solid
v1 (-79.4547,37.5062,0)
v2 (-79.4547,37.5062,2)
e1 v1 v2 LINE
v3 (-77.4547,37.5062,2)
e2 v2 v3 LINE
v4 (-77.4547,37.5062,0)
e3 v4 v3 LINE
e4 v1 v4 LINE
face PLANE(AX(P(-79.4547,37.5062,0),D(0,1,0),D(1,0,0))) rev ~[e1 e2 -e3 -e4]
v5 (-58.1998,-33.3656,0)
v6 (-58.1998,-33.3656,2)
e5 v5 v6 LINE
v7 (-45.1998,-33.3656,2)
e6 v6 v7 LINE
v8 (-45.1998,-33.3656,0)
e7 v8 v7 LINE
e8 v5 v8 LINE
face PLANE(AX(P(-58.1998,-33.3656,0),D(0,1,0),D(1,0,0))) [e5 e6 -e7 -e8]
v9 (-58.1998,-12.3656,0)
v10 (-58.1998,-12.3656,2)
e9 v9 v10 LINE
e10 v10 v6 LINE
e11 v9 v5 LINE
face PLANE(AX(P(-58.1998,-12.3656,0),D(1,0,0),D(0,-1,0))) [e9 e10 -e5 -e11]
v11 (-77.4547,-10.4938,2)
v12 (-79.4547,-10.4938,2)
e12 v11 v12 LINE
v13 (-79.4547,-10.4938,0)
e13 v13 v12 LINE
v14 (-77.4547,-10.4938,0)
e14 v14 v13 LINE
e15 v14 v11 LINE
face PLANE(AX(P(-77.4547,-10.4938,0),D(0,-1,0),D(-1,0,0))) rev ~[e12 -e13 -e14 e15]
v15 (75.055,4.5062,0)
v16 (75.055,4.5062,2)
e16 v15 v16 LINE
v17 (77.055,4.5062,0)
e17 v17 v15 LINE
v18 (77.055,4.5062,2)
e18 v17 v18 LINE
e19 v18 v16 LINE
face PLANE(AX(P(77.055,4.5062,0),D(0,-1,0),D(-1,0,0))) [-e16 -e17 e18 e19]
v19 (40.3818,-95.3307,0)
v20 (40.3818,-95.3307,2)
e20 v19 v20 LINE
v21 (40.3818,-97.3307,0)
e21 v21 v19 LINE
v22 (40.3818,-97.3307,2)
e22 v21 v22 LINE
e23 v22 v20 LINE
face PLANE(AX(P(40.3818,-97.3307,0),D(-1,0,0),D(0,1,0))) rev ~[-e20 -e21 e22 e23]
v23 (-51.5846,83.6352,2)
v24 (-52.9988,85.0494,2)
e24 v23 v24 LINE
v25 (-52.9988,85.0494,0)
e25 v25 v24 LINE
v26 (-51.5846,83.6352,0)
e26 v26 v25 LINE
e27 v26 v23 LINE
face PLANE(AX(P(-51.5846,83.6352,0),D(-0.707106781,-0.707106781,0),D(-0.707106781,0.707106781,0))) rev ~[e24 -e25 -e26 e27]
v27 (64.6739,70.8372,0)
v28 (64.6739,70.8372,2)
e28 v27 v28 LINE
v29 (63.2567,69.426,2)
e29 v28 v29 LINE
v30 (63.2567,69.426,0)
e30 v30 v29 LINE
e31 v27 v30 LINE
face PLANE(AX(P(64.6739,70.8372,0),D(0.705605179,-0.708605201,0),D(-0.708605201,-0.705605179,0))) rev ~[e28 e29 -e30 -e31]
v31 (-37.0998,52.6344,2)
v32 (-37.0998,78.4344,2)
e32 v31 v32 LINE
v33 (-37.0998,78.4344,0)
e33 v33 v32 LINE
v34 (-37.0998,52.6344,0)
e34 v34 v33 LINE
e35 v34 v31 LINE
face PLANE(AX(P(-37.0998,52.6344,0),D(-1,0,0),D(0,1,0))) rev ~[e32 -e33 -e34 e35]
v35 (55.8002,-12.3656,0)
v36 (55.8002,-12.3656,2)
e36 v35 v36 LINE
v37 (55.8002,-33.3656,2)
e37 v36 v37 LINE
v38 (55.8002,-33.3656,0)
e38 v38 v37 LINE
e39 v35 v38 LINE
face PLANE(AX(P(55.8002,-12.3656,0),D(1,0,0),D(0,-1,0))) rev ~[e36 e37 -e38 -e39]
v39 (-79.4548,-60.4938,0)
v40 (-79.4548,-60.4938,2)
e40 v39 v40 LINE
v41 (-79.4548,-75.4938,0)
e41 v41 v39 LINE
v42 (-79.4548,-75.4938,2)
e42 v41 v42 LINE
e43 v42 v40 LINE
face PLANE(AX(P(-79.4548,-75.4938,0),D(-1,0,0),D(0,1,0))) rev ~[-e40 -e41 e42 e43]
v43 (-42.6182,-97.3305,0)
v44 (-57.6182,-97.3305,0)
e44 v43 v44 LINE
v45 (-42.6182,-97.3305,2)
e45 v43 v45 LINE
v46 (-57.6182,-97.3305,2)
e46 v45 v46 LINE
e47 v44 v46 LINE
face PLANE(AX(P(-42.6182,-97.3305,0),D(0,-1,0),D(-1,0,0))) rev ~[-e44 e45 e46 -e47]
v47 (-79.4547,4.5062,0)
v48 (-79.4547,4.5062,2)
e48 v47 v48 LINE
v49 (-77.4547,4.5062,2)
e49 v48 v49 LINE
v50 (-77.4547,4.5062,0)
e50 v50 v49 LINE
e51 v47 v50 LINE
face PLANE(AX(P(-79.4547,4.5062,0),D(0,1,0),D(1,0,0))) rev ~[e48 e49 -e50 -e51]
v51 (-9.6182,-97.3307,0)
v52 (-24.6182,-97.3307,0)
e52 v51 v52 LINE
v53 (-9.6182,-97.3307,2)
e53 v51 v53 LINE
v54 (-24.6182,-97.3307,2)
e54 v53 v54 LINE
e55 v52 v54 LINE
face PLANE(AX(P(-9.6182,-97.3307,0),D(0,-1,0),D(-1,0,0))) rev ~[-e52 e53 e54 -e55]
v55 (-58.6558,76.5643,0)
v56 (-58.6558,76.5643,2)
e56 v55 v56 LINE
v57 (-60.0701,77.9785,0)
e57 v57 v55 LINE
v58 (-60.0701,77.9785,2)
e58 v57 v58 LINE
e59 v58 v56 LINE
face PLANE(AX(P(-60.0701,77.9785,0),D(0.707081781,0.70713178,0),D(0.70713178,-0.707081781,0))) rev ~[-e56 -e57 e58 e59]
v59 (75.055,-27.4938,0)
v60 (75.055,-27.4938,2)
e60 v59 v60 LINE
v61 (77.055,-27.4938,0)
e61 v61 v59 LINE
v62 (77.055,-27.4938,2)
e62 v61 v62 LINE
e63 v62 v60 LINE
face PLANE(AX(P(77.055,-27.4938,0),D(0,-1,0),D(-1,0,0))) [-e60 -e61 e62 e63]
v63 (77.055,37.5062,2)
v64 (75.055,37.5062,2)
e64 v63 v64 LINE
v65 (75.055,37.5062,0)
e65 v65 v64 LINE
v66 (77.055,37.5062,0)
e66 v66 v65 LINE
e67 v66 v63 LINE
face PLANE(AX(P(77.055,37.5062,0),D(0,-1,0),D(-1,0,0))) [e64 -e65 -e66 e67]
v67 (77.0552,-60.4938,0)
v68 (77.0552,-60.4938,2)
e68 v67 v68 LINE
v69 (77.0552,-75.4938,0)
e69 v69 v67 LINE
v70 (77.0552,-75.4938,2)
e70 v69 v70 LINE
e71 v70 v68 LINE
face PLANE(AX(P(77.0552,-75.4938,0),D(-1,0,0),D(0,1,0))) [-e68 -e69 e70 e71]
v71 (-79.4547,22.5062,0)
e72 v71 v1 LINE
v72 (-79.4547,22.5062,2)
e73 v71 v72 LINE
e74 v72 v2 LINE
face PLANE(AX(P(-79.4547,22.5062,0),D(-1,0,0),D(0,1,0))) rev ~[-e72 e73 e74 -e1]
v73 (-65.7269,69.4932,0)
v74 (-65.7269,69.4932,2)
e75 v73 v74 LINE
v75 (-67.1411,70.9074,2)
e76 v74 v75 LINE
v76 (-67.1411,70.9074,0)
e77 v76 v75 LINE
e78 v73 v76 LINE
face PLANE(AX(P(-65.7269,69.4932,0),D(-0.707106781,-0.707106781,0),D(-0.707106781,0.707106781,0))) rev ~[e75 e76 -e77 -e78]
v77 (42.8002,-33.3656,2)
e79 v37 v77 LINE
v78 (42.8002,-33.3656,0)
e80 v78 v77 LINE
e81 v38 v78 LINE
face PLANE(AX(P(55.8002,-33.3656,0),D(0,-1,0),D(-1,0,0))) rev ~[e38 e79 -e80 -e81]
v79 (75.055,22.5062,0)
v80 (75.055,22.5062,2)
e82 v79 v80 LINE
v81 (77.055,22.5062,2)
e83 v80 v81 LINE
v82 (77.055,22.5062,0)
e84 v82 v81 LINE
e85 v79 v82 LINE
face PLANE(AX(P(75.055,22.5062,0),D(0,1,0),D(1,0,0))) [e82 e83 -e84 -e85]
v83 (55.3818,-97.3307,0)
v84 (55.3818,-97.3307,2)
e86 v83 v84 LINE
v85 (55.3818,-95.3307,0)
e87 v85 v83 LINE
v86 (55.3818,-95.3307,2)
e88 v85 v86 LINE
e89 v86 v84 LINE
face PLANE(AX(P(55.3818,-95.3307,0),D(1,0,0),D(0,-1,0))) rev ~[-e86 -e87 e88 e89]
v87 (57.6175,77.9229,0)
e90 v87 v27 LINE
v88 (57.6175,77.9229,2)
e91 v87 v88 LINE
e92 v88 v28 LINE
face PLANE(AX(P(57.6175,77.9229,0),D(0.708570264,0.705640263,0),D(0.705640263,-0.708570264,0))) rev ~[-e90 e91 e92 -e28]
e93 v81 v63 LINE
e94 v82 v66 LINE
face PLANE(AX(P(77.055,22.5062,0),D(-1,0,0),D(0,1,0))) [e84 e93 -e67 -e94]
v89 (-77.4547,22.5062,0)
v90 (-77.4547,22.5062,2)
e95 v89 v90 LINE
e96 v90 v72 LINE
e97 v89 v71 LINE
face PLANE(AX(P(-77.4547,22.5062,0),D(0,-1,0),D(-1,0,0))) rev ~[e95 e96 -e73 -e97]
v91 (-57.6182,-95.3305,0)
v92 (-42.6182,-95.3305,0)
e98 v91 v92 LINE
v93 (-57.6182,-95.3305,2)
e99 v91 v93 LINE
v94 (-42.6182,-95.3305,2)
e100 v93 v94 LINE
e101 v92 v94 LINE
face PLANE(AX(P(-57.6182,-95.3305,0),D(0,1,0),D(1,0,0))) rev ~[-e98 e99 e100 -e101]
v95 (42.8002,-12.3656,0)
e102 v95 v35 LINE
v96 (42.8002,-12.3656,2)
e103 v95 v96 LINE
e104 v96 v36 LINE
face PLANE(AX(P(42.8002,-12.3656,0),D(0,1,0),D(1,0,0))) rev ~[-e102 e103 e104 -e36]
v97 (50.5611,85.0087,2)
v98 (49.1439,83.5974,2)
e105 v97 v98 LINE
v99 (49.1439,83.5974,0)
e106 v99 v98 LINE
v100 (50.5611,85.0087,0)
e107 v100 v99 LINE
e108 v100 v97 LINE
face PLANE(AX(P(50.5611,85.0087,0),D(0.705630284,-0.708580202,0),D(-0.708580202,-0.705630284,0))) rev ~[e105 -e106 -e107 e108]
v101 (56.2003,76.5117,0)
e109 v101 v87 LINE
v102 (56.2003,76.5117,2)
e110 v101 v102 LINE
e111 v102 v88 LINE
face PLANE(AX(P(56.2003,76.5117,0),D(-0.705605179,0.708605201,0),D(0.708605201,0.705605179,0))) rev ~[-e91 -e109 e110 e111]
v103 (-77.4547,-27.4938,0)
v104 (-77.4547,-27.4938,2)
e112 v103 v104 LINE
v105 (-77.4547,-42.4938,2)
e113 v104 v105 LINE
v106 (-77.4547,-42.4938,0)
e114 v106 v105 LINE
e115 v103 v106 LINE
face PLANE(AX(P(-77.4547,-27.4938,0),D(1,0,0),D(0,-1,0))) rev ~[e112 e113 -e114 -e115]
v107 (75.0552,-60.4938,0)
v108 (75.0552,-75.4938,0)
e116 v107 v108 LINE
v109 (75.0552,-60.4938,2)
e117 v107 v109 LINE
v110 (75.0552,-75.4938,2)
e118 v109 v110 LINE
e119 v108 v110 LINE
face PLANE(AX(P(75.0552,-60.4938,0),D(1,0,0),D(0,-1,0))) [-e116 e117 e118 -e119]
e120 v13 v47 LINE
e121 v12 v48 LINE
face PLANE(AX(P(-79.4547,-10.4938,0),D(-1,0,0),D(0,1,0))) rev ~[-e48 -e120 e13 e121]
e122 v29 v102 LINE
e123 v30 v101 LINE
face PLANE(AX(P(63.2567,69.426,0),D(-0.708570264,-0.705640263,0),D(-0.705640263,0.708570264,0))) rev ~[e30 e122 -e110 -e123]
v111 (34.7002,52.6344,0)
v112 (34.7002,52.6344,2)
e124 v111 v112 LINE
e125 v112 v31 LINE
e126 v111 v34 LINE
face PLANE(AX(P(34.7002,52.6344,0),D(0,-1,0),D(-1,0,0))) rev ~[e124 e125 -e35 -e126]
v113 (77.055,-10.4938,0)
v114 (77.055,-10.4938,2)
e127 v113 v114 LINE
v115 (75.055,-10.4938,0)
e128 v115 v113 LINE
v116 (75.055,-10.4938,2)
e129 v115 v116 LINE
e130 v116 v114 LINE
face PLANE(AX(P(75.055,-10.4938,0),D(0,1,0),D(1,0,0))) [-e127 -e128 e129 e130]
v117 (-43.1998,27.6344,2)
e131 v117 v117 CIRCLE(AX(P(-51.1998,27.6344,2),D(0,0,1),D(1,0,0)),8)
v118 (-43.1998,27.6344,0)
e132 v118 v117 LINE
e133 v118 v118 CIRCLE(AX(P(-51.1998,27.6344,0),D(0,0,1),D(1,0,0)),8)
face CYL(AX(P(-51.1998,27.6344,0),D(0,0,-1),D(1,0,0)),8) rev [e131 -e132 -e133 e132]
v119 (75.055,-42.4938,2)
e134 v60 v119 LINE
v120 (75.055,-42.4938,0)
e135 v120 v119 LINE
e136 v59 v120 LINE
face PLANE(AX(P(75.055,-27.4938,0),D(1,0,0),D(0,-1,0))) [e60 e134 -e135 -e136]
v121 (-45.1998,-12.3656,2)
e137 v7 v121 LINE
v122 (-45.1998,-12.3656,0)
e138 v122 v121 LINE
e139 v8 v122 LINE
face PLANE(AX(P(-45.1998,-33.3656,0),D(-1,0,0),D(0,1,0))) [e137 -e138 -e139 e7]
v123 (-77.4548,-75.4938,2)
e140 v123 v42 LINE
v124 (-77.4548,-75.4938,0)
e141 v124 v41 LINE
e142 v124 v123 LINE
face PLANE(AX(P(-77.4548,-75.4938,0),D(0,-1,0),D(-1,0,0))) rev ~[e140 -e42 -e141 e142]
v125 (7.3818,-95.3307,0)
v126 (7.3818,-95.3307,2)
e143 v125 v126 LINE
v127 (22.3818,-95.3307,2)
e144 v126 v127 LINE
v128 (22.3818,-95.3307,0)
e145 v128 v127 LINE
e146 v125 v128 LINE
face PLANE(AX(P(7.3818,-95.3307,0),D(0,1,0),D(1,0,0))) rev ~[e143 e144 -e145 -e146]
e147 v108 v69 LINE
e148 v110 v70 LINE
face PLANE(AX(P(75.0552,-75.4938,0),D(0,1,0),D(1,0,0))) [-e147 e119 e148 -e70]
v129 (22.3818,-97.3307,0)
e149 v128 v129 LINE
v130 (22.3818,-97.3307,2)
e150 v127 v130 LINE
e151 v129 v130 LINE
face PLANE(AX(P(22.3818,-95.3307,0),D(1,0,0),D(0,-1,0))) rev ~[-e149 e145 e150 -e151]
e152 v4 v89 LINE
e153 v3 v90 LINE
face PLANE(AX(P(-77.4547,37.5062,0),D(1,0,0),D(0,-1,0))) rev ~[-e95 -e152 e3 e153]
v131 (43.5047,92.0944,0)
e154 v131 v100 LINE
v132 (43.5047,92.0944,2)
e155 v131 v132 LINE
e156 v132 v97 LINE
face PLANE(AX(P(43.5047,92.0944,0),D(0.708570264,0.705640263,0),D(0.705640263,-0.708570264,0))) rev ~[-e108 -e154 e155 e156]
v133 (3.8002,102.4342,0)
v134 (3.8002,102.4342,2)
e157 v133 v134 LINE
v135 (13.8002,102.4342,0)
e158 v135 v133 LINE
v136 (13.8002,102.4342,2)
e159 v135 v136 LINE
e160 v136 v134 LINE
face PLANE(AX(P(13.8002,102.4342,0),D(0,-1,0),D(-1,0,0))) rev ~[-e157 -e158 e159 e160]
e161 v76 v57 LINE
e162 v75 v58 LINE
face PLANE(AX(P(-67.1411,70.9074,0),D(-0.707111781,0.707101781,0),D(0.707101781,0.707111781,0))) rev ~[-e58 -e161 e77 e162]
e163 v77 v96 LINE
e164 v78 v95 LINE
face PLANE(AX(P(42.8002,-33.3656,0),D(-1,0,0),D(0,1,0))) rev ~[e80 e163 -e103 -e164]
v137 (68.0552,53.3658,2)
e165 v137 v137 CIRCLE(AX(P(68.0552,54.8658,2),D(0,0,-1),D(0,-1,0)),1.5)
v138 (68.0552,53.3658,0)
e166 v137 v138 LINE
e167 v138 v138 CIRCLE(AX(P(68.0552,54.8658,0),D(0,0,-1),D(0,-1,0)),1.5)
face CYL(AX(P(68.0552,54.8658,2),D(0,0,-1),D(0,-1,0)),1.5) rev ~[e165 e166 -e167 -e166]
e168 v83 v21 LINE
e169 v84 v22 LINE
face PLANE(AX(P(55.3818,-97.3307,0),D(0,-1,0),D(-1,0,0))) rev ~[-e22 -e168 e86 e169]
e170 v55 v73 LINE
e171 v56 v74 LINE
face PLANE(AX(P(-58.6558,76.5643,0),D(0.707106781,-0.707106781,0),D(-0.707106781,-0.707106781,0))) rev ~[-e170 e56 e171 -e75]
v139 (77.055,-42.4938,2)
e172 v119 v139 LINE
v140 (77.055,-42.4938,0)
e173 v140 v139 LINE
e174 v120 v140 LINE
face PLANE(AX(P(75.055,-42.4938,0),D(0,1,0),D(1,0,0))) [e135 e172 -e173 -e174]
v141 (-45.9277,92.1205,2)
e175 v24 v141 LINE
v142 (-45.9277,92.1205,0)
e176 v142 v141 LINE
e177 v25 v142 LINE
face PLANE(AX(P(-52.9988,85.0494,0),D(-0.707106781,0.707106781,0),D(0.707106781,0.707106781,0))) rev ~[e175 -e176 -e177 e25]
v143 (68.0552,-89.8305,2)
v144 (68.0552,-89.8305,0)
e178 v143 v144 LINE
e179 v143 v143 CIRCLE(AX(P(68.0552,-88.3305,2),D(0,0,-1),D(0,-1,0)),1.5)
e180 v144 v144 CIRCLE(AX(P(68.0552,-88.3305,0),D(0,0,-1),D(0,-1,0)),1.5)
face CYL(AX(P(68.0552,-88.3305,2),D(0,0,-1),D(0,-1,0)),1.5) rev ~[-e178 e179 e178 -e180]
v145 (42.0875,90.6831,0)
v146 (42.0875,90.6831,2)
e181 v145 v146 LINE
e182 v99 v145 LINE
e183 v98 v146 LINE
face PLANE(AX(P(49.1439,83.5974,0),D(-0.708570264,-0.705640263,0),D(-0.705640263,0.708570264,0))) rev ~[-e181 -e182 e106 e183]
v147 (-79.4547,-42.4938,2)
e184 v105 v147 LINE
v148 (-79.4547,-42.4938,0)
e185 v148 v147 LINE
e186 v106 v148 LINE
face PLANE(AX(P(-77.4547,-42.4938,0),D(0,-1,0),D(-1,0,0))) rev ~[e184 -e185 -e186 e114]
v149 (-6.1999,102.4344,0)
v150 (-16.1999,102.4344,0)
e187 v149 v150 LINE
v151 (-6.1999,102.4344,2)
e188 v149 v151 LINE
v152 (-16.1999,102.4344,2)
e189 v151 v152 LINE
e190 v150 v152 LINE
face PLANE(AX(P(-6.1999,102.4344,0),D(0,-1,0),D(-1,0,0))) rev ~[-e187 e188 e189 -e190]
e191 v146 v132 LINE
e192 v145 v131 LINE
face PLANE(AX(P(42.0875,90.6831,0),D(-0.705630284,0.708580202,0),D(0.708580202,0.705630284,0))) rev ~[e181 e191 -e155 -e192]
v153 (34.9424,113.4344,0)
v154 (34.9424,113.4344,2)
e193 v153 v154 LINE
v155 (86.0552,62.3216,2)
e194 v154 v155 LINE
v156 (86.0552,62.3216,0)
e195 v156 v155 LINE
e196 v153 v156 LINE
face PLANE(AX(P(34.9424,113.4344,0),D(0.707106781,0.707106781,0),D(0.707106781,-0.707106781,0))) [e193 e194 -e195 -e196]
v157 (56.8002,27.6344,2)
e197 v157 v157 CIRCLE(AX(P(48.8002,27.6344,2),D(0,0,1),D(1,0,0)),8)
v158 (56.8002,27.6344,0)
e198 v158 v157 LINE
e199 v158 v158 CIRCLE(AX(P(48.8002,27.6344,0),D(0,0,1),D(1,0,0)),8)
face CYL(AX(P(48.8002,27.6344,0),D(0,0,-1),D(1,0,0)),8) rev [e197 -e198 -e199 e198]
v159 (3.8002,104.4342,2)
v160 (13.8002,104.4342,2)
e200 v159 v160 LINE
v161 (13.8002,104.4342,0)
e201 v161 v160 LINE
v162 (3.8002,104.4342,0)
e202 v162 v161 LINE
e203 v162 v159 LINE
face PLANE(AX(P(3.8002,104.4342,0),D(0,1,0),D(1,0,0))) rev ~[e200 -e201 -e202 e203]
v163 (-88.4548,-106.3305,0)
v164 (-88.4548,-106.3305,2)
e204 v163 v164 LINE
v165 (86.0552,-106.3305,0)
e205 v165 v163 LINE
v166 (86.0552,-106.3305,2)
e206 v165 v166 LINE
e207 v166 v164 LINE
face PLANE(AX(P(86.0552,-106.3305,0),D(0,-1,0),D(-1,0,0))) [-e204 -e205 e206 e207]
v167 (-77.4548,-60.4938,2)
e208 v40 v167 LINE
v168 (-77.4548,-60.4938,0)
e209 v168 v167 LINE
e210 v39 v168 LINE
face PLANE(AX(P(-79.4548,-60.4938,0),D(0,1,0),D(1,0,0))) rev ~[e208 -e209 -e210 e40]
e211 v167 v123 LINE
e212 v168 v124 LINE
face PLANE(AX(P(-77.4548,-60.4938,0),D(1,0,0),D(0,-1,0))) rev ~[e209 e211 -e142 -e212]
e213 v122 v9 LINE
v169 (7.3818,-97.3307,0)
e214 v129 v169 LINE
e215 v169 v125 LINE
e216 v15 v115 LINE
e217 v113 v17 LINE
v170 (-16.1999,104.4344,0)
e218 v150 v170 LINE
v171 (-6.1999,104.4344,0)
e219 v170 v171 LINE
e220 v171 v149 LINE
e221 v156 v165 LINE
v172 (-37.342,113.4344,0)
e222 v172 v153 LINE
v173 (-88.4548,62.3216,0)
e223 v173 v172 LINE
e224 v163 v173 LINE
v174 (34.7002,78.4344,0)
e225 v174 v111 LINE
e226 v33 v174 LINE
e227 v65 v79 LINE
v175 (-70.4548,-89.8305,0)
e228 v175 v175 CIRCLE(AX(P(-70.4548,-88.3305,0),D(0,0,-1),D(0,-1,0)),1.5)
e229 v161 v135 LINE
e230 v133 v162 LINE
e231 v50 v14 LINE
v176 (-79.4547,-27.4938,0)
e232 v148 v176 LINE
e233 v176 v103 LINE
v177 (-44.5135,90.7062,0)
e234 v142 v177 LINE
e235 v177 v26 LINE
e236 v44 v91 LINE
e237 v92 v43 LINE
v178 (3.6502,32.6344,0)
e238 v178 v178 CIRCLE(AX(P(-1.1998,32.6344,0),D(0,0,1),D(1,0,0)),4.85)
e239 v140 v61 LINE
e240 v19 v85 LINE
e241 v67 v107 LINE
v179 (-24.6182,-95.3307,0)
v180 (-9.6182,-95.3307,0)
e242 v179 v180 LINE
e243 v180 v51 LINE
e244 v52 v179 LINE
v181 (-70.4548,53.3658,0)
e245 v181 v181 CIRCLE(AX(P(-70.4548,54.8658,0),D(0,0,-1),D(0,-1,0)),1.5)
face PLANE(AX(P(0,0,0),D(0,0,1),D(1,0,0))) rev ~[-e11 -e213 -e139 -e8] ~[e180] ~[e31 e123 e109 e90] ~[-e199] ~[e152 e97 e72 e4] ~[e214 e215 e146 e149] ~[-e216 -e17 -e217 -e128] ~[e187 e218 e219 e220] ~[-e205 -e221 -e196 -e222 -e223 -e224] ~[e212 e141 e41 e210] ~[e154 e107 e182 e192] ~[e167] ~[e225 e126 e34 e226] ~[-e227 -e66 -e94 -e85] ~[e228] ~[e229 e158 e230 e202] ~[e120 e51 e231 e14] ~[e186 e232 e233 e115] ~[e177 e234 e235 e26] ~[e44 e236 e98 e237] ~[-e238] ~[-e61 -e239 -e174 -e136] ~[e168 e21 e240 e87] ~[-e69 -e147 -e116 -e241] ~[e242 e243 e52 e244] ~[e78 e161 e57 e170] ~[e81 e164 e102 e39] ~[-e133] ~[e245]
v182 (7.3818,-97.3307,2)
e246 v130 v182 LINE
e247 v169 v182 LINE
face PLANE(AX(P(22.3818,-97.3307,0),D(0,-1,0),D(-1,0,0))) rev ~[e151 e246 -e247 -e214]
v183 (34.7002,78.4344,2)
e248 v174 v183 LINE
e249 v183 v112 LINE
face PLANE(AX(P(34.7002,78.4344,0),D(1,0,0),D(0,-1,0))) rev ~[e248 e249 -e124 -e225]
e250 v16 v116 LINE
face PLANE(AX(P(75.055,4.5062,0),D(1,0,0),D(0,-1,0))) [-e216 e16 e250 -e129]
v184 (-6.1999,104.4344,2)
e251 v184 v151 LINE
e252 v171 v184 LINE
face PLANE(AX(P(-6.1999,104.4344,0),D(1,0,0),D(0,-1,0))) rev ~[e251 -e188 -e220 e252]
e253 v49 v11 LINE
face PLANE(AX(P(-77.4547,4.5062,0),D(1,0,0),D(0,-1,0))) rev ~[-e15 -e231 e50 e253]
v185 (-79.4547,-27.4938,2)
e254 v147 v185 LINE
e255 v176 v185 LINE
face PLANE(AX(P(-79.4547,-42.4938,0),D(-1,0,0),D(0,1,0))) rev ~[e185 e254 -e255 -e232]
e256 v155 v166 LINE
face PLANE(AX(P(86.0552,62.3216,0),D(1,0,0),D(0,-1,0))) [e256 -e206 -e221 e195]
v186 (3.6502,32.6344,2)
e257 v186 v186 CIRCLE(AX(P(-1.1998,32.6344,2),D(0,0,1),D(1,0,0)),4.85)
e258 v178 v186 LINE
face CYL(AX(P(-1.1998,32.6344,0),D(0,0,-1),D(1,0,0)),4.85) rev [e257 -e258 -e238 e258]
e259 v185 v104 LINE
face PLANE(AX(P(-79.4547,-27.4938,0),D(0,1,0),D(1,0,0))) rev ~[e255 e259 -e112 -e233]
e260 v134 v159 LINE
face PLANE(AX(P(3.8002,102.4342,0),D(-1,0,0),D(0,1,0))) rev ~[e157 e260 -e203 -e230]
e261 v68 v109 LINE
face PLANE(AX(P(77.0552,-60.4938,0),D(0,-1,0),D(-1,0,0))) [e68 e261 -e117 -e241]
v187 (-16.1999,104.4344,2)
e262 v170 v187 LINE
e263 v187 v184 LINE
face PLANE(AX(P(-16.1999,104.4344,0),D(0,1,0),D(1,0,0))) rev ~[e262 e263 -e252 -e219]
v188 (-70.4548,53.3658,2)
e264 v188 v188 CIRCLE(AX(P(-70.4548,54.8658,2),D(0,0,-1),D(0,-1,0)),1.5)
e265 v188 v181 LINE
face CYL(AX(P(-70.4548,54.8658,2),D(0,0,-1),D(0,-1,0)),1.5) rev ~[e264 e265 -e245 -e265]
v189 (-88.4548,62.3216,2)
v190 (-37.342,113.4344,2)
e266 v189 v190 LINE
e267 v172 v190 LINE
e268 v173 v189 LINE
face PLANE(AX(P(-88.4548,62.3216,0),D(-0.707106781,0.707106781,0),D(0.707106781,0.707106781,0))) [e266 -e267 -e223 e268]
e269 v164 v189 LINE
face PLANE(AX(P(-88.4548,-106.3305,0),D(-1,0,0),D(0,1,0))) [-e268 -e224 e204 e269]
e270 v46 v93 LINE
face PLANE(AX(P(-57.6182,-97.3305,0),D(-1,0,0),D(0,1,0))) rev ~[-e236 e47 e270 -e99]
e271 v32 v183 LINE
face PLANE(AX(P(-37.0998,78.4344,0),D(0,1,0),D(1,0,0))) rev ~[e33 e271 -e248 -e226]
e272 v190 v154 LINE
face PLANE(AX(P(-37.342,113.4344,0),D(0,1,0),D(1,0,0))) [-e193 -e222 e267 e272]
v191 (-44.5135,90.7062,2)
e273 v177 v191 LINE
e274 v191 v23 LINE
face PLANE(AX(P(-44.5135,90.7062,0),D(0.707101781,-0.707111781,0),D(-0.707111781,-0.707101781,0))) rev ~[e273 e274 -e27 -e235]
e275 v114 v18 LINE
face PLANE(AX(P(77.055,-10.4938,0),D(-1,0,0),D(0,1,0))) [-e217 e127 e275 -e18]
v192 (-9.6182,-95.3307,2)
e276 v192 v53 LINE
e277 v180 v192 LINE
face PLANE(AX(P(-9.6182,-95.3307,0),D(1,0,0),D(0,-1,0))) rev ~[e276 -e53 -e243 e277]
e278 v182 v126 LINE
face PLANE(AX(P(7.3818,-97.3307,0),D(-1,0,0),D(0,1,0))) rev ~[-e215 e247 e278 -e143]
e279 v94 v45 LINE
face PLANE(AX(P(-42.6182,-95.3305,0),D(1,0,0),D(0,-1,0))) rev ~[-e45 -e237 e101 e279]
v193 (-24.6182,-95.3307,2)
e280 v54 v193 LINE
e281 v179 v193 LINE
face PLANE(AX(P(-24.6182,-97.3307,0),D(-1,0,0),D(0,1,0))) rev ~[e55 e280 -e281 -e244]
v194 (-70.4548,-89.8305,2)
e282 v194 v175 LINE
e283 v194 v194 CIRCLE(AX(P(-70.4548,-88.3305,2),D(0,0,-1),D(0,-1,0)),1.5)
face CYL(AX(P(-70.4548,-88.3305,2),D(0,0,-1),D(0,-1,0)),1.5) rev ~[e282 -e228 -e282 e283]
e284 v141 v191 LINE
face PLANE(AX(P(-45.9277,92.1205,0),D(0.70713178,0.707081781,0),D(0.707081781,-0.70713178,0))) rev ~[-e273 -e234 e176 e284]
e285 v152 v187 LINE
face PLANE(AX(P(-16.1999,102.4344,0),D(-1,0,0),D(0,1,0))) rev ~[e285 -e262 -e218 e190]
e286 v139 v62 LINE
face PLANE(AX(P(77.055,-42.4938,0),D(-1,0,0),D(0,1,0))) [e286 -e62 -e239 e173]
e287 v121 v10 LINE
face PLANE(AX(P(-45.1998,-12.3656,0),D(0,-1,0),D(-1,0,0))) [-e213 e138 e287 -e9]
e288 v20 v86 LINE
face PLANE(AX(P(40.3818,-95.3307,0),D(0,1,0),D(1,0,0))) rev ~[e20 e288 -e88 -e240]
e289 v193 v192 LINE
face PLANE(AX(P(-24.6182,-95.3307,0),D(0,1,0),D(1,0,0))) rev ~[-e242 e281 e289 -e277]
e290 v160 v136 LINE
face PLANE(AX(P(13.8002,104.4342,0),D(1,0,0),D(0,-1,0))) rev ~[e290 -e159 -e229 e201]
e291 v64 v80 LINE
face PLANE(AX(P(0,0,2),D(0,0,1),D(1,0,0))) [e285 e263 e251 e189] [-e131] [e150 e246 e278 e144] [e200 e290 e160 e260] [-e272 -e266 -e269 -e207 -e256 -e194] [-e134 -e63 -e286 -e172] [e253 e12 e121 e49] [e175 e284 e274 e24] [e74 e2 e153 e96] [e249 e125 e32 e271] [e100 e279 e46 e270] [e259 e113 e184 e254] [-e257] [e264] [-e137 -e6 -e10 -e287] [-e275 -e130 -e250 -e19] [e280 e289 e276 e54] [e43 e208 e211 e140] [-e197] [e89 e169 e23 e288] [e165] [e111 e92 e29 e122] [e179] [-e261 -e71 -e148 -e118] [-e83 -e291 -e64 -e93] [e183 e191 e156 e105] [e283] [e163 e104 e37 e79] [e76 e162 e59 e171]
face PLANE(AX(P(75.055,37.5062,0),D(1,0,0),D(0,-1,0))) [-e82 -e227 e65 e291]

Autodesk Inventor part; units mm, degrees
ref_plane "YZ Plane" through (0, 0, 0) normal (1, 0, 0) x (0, 1, 0)
ref_plane "XZ Plane" through (0, 0, 0) normal (0, 1, 0) x (-1, 0, 0)
ref_plane "XY Plane" through (0, 0, 0) normal (0, 0, 1) x (1, 0, 0)
sketch "Sketch1" plane through (0, 0, 0) normal (0, 0, 1) x (1, 0, 0)
  line L0 (-77.4547, 22.5062) -> (-79.4547, 22.5062)
  line L1 (-88.4548, -106.3305) -> (-88.4548, 62.3216)
  line L2 (-77.4547, -10.4938) -> (-79.4547, -10.4938)
  line L3 (-77.4547, 4.5062) -> (-77.4547, -10.4938)
  line L4 (-79.4547, 4.5062) -> (-77.4547, 4.5062)
  line L5 (-79.4547, -10.4938) -> (-79.4547, 4.5062)
  line L6 (-77.4547, 37.5062) -> (-77.4547, 22.5062)
  line L7 (-79.4547, 37.5062) -> (-77.4547, 37.5062)
  line L8 (-79.4547, 22.5062) -> (-79.4547, 37.5062)
  line L9 (-77.4547, -42.4938) -> (-79.4547, -42.4938)
  line L10 (-77.4547, -27.4938) -> (-77.4547, -42.4938)
  line L11 (-79.4547, -42.4938) -> (-79.4547, -27.4938)
  line L12 (-79.4547, -27.4938) -> (-77.4547, -27.4938)
  line L13 (-58.1998, -33.3656) -> (-45.1998, -33.3656)
  line L14 (-45.1998, -33.3656) -> (-45.1998, -12.3656)
  line L15 (-58.1998, -12.3656) -> (-58.1998, -33.3656)
  line L16 (-45.1998, -12.3656) -> (-58.1998, -12.3656)
  line L17 (-79.4548, -60.4938) -> (-77.4548, -60.4938)
  line L18 (-77.4548, -60.4938) -> (-77.4548, -75.4938)
  line L19 (-79.4548, -75.4938) -> (-79.4548, -60.4938)
  line L20 (-77.4548, -75.4938) -> (-79.4548, -75.4938)
  circle A0 centre (-70.4548, -88.3305) radius 1.5
  line L21 (-57.6182, -95.3305) -> (-42.6182, -95.3305)
  line L22 (-42.6182, -95.3305) -> (-42.6182, -97.3305)
  line L23 (-42.6182, -97.3305) -> (-57.6182, -97.3305)
  line L24 (-57.6182, -97.3305) -> (-57.6182, -95.3305)
  line L25 (-65.7269, 69.4932) -> (-67.1411, 70.9074)
  line L26 (-60.0701, 77.9785) -> (-58.6558, 76.5643)
  line L27 (-58.6558, 76.5643) -> (-65.7269, 69.4932)
  line L28 (-67.1411, 70.9074) -> (-60.0701, 77.9785)
  line L29 (-45.9277, 92.1205) -> (-44.5135, 90.7062)
  line L30 (-44.5135, 90.7062) -> (-51.5846, 83.6352)
  line L31 (-52.9988, 85.0494) -> (-45.9277, 92.1205)
  line L32 (-88.4548, 62.3216) -> (-37.342, 113.4344)
  line L33 (-51.5846, 83.6352) -> (-52.9988, 85.0494)
  line L34 (-37.0998, 52.6344) -> (-37.0998, 78.4344)
  line L35 (-16.1999, 102.4344) -> (-16.1999, 104.4344)
  line L36 (-6.1999, 102.4344) -> (-16.1999, 102.4344)
  line L37 (-16.1999, 104.4344) -> (-6.1999, 104.4344)
  line L38 (-6.1999, 104.4344) -> (-6.1999, 102.4344)
  line L39 (3.8002, 102.4342) -> (3.8002, 104.4342)
  line L40 (13.8002, 102.4342) -> (3.8002, 102.4342)
  line L41 (13.8002, 104.4342) -> (13.8002, 102.4342)
  line L42 (3.8002, 104.4342) -> (13.8002, 104.4342)
  line L43 (-37.0998, 78.4344) -> (34.7002, 78.4344)
  line L44 (-37.342, 113.4344) -> (34.9424, 113.4344)
  line L45 (34.7002, 52.6344) -> (-37.0998, 52.6344)
  line L46 (34.7002, 78.4344) -> (34.7002, 52.6344)
  line L47 (22.3818, -95.3307) -> (22.3818, -97.3307)
  line L48 (40.3818, -97.3307) -> (40.3818, -95.3307)
  line L49 (55.3818, -95.3307) -> (55.3818, -97.3307)
  line L50 (55.3818, -97.3307) -> (40.3818, -97.3307)
  line L51 (40.3818, -95.3307) -> (55.3818, -95.3307)
  line L52 (7.3818, -95.3307) -> (22.3818, -95.3307)
  line L53 (22.3818, -97.3307) -> (7.3818, -97.3307)
  line L54 (7.3818, -97.3307) -> (7.3818, -95.3307)
  line L55 (86.0552, -106.3305) -> (-88.4548, -106.3305)
  line L56 (-9.6182, -95.3307) -> (-9.6182, -97.3307)
  line L57 (-24.6182, -95.3307) -> (-9.6182, -95.3307)
  line L58 (-24.6182, -97.3307) -> (-24.6182, -95.3307)
  line L59 (-9.6182, -97.3307) -> (-24.6182, -97.3307)
  line L60 (86.0552, 62.3216) -> (86.0552, -106.3305)
  circle A1 centre (68.0552, -88.3305) radius 1.5
  line L61 (75.0552, -75.4938) -> (77.0552, -75.4938)
  line L62 (77.0552, -60.4938) -> (75.0552, -60.4938)
  line L63 (77.0552, -75.4938) -> (77.0552, -60.4938)
  line L64 (75.055, -42.4938) -> (77.055, -42.4938)
  line L65 (75.055, -27.4938) -> (75.055, -42.4938)
  line L66 (77.055, -42.4938) -> (77.055, -27.4938)
  line L67 (75.0552, -60.4938) -> (75.0552, -75.4938)
  line L68 (42.8002, -12.3656) -> (55.8002, -12.3656)
  line L69 (77.055, 4.5062) -> (75.055, 4.5062)
  line L70 (75.055, 4.5062) -> (75.055, -10.4938)
  line L71 (77.055, -10.4938) -> (77.055, 4.5062)
  line L72 (42.8002, -33.3656) -> (42.8002, -12.3656)
  line L73 (75.055, -10.4938) -> (77.055, -10.4938)
  line L74 (55.8002, -12.3656) -> (55.8002, -33.3656)
  line L75 (55.8002, -33.3656) -> (42.8002, -33.3656)
  line L76 (77.055, -27.4938) -> (75.055, -27.4938)
  line L77 (77.055, 37.5062) -> (75.055, 37.5062)
  line L78 (75.055, 22.5062) -> (77.055, 22.5062)
  line L79 (77.055, 22.5062) -> (77.055, 37.5062)
  line L80 (75.055, 37.5062) -> (75.055, 22.5062)
  circle A2 centre (48.8002, 27.6344) radius 8
  circle A3 centre (68.0552, 54.8658) radius 1.5
  line L81 (64.6739, 70.8372) -> (63.2567, 69.426)
  line L82 (63.2567, 69.426) -> (56.2003, 76.5117)
  line L83 (56.2003, 76.5117) -> (57.6175, 77.9229)
  line L84 (57.6175, 77.9229) -> (64.6739, 70.8372)
  line L85 (50.5611, 85.0087) -> (49.1439, 83.5974)
  line L86 (49.1439, 83.5974) -> (42.0875, 90.6831)
  line L87 (42.0875, 90.6831) -> (43.5047, 92.0944)
  line L88 (43.5047, 92.0944) -> (50.5611, 85.0087)
  line L89 (34.9424, 113.4344) -> (86.0552, 62.3216)
  circle A4 centre (-70.4548, 54.8658) radius 1.5
  circle A5 centre (-51.1998, 27.6344) radius 8
  circle A6 centre (-1.1998, 32.6344) radius 4.85
  point P0 (0, 0)
  dimension "d44" = 10
  dimension "d45" = 2
  dimension "d46" = 10
  dimension "d47" = 2
  dimension "d48" = 10
  dimension "d49" = 2
  dimension "d50" = 10
  dimension "d51" = 2
  dimension "d52" = 10
  dimension "d53" = 10
  dimension "d54" = 2
  dimension "d55" = 10
  dimension "d56" = 2
  dimension "d57" = 10
  dimension "d58" = 15
  dimension "d59" = 2
  dimension "d60" = 15
  dimension "d61" = 18
  dimension "d62" = 15
  dimension "d63" = 17
  dimension "d64" = 2
  dimension "d65" = 15
  dimension "d66" = 15
  dimension "d67" = 18
  dimension "d68" = 15
  dimension "d69" = 17
  dimension "d70" = 15
  dimension "d71" = 18
  dimension "d72" = 15
  dimension "d73" = 18
  dimension "d74" = 219.7649
  dimension "d75" = 174.51
  dimension "d76" = 3
  dimension "d77" = 3
  dimension "d78" = 71.8
  dimension "d79" = 25.8
  dimension "d80" = 35
  dimension "d81" = 16
  dimension "d82" = 25
  dimension "d83" = 13
  dimension "d84" = 21
  dimension "d85" = 40
  dimension "d86" = 9.7
  dimension "d87" = 20
extrude "Extrusion1" add sketch "Sketch1" along normal blind 2 contours L1 L32 L44 L89 L60 L55 | A0 | A1 | A3 | A4
sketch "Sketch2" plane through (0, 0, 2) normal (0, 0, 1) x (1, 0, 0)
  line L0 (-77.4547, -10.4938) -> (-79.4547, -10.4938)
  line L1 (-45.1998, -12.3656) -> (-58.1998, -12.3656)
  line L2 (-79.4547, 4.5062) -> (-77.4547, 4.5062)
  line L3 (-77.4547, 4.5062) -> (-77.4547, -10.4938)
  line L4 (-79.4547, -10.4938) -> (-79.4547, 4.5062)
  line L5 (-77.4547, 22.5062) -> (-79.4547, 22.5062)
  line L6 (-24.6182, -97.3307) -> (-24.6182, -95.3307)
  line L7 (-9.6182, -95.3307) -> (-9.6182, -97.3307)
  line L8 (-24.6182, -95.3307) -> (-9.6182, -95.3307)
  line L9 (-9.6182, -97.3307) -> (-24.6182, -97.3307)
  line L10 (-45.9277, 92.1205) -> (-44.5135, 90.7062)
  line L11 (-44.5135, 90.7062) -> (-51.5846, 83.6352)
  line L12 (-52.9988, 85.0494) -> (-45.9277, 92.1205)
  line L13 (-51.5846, 83.6352) -> (-52.9988, 85.0494)
  line L14 (-60.0701, 77.9785) -> (-58.6558, 76.5643)
  line L15 (-58.6558, 76.5643) -> (-65.7269, 69.4932)
  line L16 (-67.1411, 70.9074) -> (-60.0701, 77.9785)
  line L17 (-65.7269, 69.4932) -> (-67.1411, 70.9074)
  line L18 (-88.4548, 62.3216) -> (-37.342, 113.4344)
  line L19 (-88.4548, -106.3305) -> (-88.4548, 62.3216)
  line L20 (-58.1998, -12.3656) -> (-58.1998, -33.3656)
  line L21 (-45.1998, -33.3656) -> (-45.1998, -12.3656)
  line L22 (-79.4547, -27.4938) -> (-77.4547, -27.4938)
  line L23 (-58.1998, -33.3656) -> (-45.1998, -33.3656)
  line L24 (-79.4547, -42.4938) -> (-79.4547, -27.4938)
  line L25 (-77.4547, -27.4938) -> (-77.4547, -42.4938)
  line L26 (-77.4547, -42.4938) -> (-79.4547, -42.4938)
  line L27 (7.3818, -97.3307) -> (7.3818, -95.3307)
  line L28 (7.3818, -95.3307) -> (22.3818, -95.3307)
  line L29 (22.3818, -97.3307) -> (7.3818, -97.3307)
  line L30 (40.3818, -97.3307) -> (40.3818, -95.3307)
  line L31 (55.3818, -95.3307) -> (55.3818, -97.3307)
  line L32 (22.3818, -95.3307) -> (22.3818, -97.3307)
  line L33 (-16.1999, 102.4344) -> (-16.1999, 104.4344)
  line L34 (-6.1999, 102.4344) -> (-16.1999, 102.4344)
  line L35 (-16.1999, 104.4344) -> (-6.1999, 104.4344)
  line L36 (-6.1999, 104.4344) -> (-6.1999, 102.4344)
  line L37 (3.8002, 102.4342) -> (3.8002, 104.4342)
  line L38 (13.8002, 102.4342) -> (3.8002, 102.4342)
  line L39 (13.8002, 104.4342) -> (13.8002, 102.4342)
  line L40 (3.8002, 104.4342) -> (13.8002, 104.4342)
  circle A0 centre (-1.1998, 32.6344) radius 4.85
  line L41 (42.0875, 90.6831) -> (43.5047, 92.0944)
  line L42 (-37.0998, 52.6344) -> (-37.0998, 78.4344)
  line L43 (34.7002, 78.4344) -> (34.7002, 52.6344)
  line L44 (34.7002, 52.6344) -> (-37.0998, 52.6344)
  line L45 (-37.0998, 78.4344) -> (34.7002, 78.4344)
  line L46 (-37.342, 113.4344) -> (34.9424, 113.4344)
  line L47 (86.0552, -106.3305) -> (-88.4548, -106.3305)
  line L48 (-42.6182, -95.3305) -> (-42.6182, -97.3305)
  line L49 (-42.6182, -97.3305) -> (-57.6182, -97.3305)
  line L50 (-57.6182, -95.3305) -> (-42.6182, -95.3305)
  line L51 (-57.6182, -97.3305) -> (-57.6182, -95.3305)
  circle A1 centre (-70.4548, -88.3305) radius 1.5
  line L52 (-77.4548, -60.4938) -> (-77.4548, -75.4938)
  line L53 (-79.4548, -60.4938) -> (-77.4548, -60.4938)
  line L54 (-79.4548, -75.4938) -> (-79.4548, -60.4938)
  line L55 (-77.4548, -75.4938) -> (-79.4548, -75.4938)
  line L56 (55.3818, -97.3307) -> (40.3818, -97.3307)
  line L57 (40.3818, -95.3307) -> (55.3818, -95.3307)
  circle A2 centre (68.0552, -88.3305) radius 1.5
  line L58 (75.0552, -60.4938) -> (75.0552, -75.4938)
  line L59 (77.0552, -60.4938) -> (75.0552, -60.4938)
  line L60 (77.0552, -75.4938) -> (77.0552, -60.4938)
  line L61 (86.0552, 62.3216) -> (86.0552, -106.3305)
  line L62 (75.055, -42.4938) -> (77.055, -42.4938)
  line L63 (75.0552, -75.4938) -> (77.0552, -75.4938)
  line L64 (75.055, -27.4938) -> (75.055, -42.4938)
  line L65 (77.055, -42.4938) -> (77.055, -27.4938)
  line L66 (77.055, -27.4938) -> (75.055, -27.4938)
  line L67 (55.8002, -33.3656) -> (42.8002, -33.3656)
  line L68 (75.055, -10.4938) -> (77.055, -10.4938)
  line L69 (42.8002, -12.3656) -> (55.8002, -12.3656)
  line L70 (42.8002, -33.3656) -> (42.8002, -12.3656)
  line L71 (77.055, -10.4938) -> (77.055, 4.5062)
  line L72 (77.055, 4.5062) -> (75.055, 4.5062)
  line L73 (75.055, 4.5062) -> (75.055, -10.4938)
  line L74 (55.8002, -12.3656) -> (55.8002, -33.3656)
  line L75 (64.6739, 70.8372) -> (63.2567, 69.426)
  line L76 (63.2567, 69.426) -> (56.2003, 76.5117)
  line L77 (56.2003, 76.5117) -> (57.6175, 77.9229)
  line L78 (57.6175, 77.9229) -> (64.6739, 70.8372)
  line L79 (50.5611, 85.0087) -> (49.1439, 83.5974)
  line L80 (49.1439, 83.5974) -> (42.0875, 90.6831)
  line L81 (43.5047, 92.0944) -> (50.5611, 85.0087)
  line L82 (34.9424, 113.4344) -> (86.0552, 62.3216)
  line L83 (75.055, 22.5062) -> (77.055, 22.5062)
  line L84 (77.055, 37.5062) -> (75.055, 37.5062)
  line L85 (77.055, 22.5062) -> (77.055, 37.5062)
  line L86 (75.055, 37.5062) -> (75.055, 22.5062)
  circle A3 centre (68.0552, 54.8658) radius 1.5
  circle A4 centre (48.8002, 27.6344) radius 8
  circle A5 centre (-51.1998, 27.6344) radius 8
  line L87 (-77.4547, 37.5062) -> (-77.4547, 22.5062)
  line L88 (-79.4547, 22.5062) -> (-79.4547, 37.5062)
  line L89 (-79.4547, 37.5062) -> (-77.4547, 37.5062)
  circle A6 centre (-70.4548, 54.8658) radius 1.5
  point P0 (0, 0)
  point P1 (0, 0)
  dimension "d90" = 10
  dimension "d91" = 2
  dimension "d92" = 10
  dimension "d93" = 2
  dimension "d94" = 10
  dimension "d95" = 2
  dimension "d96" = 10
  dimension "d97" = 2
  dimension "d98" = 10
  dimension "d99" = 10
  dimension "d100" = 2
  dimension "d101" = 10
  dimension "d102" = 2
  dimension "d103" = 10
  dimension "d104" = 15
  dimension "d105" = 2
  dimension "d106" = 15
  dimension "d107" = 18
  dimension "d108" = 15
  dimension "d109" = 17
  dimension "d110" = 2
  dimension "d111" = 15
  dimension "d112" = 15
  dimension "d113" = 18
  dimension "d114" = 15
  dimension "d115" = 17
  dimension "d116" = 15
  dimension "d117" = 18
  dimension "d118" = 15
  dimension "d119" = 18
  dimension "d120" = 219.7649
  dimension "d121" = 174.51
  dimension "d122" = 3
  dimension "d123" = 3
  dimension "d124" = 71.8
  dimension "d125" = 25.8
  dimension "d126" = 35
  dimension "d127" = 16
  dimension "d128" = 25
  dimension "d129" = 13
  dimension "d130" = 21
  dimension "d131" = 40
  dimension "d132" = 9.7
  dimension "d133" = 20
hole "Hole1" at (-70.4548, 54.8658, 2) at (68.0552, 54.8658, 2) at (68.0552, -88.3305, 2) at (-70.4548, -88.3305, 2) direction (0, 0, -1) diameter 3 end through all
properties part number "tutup kepala"
